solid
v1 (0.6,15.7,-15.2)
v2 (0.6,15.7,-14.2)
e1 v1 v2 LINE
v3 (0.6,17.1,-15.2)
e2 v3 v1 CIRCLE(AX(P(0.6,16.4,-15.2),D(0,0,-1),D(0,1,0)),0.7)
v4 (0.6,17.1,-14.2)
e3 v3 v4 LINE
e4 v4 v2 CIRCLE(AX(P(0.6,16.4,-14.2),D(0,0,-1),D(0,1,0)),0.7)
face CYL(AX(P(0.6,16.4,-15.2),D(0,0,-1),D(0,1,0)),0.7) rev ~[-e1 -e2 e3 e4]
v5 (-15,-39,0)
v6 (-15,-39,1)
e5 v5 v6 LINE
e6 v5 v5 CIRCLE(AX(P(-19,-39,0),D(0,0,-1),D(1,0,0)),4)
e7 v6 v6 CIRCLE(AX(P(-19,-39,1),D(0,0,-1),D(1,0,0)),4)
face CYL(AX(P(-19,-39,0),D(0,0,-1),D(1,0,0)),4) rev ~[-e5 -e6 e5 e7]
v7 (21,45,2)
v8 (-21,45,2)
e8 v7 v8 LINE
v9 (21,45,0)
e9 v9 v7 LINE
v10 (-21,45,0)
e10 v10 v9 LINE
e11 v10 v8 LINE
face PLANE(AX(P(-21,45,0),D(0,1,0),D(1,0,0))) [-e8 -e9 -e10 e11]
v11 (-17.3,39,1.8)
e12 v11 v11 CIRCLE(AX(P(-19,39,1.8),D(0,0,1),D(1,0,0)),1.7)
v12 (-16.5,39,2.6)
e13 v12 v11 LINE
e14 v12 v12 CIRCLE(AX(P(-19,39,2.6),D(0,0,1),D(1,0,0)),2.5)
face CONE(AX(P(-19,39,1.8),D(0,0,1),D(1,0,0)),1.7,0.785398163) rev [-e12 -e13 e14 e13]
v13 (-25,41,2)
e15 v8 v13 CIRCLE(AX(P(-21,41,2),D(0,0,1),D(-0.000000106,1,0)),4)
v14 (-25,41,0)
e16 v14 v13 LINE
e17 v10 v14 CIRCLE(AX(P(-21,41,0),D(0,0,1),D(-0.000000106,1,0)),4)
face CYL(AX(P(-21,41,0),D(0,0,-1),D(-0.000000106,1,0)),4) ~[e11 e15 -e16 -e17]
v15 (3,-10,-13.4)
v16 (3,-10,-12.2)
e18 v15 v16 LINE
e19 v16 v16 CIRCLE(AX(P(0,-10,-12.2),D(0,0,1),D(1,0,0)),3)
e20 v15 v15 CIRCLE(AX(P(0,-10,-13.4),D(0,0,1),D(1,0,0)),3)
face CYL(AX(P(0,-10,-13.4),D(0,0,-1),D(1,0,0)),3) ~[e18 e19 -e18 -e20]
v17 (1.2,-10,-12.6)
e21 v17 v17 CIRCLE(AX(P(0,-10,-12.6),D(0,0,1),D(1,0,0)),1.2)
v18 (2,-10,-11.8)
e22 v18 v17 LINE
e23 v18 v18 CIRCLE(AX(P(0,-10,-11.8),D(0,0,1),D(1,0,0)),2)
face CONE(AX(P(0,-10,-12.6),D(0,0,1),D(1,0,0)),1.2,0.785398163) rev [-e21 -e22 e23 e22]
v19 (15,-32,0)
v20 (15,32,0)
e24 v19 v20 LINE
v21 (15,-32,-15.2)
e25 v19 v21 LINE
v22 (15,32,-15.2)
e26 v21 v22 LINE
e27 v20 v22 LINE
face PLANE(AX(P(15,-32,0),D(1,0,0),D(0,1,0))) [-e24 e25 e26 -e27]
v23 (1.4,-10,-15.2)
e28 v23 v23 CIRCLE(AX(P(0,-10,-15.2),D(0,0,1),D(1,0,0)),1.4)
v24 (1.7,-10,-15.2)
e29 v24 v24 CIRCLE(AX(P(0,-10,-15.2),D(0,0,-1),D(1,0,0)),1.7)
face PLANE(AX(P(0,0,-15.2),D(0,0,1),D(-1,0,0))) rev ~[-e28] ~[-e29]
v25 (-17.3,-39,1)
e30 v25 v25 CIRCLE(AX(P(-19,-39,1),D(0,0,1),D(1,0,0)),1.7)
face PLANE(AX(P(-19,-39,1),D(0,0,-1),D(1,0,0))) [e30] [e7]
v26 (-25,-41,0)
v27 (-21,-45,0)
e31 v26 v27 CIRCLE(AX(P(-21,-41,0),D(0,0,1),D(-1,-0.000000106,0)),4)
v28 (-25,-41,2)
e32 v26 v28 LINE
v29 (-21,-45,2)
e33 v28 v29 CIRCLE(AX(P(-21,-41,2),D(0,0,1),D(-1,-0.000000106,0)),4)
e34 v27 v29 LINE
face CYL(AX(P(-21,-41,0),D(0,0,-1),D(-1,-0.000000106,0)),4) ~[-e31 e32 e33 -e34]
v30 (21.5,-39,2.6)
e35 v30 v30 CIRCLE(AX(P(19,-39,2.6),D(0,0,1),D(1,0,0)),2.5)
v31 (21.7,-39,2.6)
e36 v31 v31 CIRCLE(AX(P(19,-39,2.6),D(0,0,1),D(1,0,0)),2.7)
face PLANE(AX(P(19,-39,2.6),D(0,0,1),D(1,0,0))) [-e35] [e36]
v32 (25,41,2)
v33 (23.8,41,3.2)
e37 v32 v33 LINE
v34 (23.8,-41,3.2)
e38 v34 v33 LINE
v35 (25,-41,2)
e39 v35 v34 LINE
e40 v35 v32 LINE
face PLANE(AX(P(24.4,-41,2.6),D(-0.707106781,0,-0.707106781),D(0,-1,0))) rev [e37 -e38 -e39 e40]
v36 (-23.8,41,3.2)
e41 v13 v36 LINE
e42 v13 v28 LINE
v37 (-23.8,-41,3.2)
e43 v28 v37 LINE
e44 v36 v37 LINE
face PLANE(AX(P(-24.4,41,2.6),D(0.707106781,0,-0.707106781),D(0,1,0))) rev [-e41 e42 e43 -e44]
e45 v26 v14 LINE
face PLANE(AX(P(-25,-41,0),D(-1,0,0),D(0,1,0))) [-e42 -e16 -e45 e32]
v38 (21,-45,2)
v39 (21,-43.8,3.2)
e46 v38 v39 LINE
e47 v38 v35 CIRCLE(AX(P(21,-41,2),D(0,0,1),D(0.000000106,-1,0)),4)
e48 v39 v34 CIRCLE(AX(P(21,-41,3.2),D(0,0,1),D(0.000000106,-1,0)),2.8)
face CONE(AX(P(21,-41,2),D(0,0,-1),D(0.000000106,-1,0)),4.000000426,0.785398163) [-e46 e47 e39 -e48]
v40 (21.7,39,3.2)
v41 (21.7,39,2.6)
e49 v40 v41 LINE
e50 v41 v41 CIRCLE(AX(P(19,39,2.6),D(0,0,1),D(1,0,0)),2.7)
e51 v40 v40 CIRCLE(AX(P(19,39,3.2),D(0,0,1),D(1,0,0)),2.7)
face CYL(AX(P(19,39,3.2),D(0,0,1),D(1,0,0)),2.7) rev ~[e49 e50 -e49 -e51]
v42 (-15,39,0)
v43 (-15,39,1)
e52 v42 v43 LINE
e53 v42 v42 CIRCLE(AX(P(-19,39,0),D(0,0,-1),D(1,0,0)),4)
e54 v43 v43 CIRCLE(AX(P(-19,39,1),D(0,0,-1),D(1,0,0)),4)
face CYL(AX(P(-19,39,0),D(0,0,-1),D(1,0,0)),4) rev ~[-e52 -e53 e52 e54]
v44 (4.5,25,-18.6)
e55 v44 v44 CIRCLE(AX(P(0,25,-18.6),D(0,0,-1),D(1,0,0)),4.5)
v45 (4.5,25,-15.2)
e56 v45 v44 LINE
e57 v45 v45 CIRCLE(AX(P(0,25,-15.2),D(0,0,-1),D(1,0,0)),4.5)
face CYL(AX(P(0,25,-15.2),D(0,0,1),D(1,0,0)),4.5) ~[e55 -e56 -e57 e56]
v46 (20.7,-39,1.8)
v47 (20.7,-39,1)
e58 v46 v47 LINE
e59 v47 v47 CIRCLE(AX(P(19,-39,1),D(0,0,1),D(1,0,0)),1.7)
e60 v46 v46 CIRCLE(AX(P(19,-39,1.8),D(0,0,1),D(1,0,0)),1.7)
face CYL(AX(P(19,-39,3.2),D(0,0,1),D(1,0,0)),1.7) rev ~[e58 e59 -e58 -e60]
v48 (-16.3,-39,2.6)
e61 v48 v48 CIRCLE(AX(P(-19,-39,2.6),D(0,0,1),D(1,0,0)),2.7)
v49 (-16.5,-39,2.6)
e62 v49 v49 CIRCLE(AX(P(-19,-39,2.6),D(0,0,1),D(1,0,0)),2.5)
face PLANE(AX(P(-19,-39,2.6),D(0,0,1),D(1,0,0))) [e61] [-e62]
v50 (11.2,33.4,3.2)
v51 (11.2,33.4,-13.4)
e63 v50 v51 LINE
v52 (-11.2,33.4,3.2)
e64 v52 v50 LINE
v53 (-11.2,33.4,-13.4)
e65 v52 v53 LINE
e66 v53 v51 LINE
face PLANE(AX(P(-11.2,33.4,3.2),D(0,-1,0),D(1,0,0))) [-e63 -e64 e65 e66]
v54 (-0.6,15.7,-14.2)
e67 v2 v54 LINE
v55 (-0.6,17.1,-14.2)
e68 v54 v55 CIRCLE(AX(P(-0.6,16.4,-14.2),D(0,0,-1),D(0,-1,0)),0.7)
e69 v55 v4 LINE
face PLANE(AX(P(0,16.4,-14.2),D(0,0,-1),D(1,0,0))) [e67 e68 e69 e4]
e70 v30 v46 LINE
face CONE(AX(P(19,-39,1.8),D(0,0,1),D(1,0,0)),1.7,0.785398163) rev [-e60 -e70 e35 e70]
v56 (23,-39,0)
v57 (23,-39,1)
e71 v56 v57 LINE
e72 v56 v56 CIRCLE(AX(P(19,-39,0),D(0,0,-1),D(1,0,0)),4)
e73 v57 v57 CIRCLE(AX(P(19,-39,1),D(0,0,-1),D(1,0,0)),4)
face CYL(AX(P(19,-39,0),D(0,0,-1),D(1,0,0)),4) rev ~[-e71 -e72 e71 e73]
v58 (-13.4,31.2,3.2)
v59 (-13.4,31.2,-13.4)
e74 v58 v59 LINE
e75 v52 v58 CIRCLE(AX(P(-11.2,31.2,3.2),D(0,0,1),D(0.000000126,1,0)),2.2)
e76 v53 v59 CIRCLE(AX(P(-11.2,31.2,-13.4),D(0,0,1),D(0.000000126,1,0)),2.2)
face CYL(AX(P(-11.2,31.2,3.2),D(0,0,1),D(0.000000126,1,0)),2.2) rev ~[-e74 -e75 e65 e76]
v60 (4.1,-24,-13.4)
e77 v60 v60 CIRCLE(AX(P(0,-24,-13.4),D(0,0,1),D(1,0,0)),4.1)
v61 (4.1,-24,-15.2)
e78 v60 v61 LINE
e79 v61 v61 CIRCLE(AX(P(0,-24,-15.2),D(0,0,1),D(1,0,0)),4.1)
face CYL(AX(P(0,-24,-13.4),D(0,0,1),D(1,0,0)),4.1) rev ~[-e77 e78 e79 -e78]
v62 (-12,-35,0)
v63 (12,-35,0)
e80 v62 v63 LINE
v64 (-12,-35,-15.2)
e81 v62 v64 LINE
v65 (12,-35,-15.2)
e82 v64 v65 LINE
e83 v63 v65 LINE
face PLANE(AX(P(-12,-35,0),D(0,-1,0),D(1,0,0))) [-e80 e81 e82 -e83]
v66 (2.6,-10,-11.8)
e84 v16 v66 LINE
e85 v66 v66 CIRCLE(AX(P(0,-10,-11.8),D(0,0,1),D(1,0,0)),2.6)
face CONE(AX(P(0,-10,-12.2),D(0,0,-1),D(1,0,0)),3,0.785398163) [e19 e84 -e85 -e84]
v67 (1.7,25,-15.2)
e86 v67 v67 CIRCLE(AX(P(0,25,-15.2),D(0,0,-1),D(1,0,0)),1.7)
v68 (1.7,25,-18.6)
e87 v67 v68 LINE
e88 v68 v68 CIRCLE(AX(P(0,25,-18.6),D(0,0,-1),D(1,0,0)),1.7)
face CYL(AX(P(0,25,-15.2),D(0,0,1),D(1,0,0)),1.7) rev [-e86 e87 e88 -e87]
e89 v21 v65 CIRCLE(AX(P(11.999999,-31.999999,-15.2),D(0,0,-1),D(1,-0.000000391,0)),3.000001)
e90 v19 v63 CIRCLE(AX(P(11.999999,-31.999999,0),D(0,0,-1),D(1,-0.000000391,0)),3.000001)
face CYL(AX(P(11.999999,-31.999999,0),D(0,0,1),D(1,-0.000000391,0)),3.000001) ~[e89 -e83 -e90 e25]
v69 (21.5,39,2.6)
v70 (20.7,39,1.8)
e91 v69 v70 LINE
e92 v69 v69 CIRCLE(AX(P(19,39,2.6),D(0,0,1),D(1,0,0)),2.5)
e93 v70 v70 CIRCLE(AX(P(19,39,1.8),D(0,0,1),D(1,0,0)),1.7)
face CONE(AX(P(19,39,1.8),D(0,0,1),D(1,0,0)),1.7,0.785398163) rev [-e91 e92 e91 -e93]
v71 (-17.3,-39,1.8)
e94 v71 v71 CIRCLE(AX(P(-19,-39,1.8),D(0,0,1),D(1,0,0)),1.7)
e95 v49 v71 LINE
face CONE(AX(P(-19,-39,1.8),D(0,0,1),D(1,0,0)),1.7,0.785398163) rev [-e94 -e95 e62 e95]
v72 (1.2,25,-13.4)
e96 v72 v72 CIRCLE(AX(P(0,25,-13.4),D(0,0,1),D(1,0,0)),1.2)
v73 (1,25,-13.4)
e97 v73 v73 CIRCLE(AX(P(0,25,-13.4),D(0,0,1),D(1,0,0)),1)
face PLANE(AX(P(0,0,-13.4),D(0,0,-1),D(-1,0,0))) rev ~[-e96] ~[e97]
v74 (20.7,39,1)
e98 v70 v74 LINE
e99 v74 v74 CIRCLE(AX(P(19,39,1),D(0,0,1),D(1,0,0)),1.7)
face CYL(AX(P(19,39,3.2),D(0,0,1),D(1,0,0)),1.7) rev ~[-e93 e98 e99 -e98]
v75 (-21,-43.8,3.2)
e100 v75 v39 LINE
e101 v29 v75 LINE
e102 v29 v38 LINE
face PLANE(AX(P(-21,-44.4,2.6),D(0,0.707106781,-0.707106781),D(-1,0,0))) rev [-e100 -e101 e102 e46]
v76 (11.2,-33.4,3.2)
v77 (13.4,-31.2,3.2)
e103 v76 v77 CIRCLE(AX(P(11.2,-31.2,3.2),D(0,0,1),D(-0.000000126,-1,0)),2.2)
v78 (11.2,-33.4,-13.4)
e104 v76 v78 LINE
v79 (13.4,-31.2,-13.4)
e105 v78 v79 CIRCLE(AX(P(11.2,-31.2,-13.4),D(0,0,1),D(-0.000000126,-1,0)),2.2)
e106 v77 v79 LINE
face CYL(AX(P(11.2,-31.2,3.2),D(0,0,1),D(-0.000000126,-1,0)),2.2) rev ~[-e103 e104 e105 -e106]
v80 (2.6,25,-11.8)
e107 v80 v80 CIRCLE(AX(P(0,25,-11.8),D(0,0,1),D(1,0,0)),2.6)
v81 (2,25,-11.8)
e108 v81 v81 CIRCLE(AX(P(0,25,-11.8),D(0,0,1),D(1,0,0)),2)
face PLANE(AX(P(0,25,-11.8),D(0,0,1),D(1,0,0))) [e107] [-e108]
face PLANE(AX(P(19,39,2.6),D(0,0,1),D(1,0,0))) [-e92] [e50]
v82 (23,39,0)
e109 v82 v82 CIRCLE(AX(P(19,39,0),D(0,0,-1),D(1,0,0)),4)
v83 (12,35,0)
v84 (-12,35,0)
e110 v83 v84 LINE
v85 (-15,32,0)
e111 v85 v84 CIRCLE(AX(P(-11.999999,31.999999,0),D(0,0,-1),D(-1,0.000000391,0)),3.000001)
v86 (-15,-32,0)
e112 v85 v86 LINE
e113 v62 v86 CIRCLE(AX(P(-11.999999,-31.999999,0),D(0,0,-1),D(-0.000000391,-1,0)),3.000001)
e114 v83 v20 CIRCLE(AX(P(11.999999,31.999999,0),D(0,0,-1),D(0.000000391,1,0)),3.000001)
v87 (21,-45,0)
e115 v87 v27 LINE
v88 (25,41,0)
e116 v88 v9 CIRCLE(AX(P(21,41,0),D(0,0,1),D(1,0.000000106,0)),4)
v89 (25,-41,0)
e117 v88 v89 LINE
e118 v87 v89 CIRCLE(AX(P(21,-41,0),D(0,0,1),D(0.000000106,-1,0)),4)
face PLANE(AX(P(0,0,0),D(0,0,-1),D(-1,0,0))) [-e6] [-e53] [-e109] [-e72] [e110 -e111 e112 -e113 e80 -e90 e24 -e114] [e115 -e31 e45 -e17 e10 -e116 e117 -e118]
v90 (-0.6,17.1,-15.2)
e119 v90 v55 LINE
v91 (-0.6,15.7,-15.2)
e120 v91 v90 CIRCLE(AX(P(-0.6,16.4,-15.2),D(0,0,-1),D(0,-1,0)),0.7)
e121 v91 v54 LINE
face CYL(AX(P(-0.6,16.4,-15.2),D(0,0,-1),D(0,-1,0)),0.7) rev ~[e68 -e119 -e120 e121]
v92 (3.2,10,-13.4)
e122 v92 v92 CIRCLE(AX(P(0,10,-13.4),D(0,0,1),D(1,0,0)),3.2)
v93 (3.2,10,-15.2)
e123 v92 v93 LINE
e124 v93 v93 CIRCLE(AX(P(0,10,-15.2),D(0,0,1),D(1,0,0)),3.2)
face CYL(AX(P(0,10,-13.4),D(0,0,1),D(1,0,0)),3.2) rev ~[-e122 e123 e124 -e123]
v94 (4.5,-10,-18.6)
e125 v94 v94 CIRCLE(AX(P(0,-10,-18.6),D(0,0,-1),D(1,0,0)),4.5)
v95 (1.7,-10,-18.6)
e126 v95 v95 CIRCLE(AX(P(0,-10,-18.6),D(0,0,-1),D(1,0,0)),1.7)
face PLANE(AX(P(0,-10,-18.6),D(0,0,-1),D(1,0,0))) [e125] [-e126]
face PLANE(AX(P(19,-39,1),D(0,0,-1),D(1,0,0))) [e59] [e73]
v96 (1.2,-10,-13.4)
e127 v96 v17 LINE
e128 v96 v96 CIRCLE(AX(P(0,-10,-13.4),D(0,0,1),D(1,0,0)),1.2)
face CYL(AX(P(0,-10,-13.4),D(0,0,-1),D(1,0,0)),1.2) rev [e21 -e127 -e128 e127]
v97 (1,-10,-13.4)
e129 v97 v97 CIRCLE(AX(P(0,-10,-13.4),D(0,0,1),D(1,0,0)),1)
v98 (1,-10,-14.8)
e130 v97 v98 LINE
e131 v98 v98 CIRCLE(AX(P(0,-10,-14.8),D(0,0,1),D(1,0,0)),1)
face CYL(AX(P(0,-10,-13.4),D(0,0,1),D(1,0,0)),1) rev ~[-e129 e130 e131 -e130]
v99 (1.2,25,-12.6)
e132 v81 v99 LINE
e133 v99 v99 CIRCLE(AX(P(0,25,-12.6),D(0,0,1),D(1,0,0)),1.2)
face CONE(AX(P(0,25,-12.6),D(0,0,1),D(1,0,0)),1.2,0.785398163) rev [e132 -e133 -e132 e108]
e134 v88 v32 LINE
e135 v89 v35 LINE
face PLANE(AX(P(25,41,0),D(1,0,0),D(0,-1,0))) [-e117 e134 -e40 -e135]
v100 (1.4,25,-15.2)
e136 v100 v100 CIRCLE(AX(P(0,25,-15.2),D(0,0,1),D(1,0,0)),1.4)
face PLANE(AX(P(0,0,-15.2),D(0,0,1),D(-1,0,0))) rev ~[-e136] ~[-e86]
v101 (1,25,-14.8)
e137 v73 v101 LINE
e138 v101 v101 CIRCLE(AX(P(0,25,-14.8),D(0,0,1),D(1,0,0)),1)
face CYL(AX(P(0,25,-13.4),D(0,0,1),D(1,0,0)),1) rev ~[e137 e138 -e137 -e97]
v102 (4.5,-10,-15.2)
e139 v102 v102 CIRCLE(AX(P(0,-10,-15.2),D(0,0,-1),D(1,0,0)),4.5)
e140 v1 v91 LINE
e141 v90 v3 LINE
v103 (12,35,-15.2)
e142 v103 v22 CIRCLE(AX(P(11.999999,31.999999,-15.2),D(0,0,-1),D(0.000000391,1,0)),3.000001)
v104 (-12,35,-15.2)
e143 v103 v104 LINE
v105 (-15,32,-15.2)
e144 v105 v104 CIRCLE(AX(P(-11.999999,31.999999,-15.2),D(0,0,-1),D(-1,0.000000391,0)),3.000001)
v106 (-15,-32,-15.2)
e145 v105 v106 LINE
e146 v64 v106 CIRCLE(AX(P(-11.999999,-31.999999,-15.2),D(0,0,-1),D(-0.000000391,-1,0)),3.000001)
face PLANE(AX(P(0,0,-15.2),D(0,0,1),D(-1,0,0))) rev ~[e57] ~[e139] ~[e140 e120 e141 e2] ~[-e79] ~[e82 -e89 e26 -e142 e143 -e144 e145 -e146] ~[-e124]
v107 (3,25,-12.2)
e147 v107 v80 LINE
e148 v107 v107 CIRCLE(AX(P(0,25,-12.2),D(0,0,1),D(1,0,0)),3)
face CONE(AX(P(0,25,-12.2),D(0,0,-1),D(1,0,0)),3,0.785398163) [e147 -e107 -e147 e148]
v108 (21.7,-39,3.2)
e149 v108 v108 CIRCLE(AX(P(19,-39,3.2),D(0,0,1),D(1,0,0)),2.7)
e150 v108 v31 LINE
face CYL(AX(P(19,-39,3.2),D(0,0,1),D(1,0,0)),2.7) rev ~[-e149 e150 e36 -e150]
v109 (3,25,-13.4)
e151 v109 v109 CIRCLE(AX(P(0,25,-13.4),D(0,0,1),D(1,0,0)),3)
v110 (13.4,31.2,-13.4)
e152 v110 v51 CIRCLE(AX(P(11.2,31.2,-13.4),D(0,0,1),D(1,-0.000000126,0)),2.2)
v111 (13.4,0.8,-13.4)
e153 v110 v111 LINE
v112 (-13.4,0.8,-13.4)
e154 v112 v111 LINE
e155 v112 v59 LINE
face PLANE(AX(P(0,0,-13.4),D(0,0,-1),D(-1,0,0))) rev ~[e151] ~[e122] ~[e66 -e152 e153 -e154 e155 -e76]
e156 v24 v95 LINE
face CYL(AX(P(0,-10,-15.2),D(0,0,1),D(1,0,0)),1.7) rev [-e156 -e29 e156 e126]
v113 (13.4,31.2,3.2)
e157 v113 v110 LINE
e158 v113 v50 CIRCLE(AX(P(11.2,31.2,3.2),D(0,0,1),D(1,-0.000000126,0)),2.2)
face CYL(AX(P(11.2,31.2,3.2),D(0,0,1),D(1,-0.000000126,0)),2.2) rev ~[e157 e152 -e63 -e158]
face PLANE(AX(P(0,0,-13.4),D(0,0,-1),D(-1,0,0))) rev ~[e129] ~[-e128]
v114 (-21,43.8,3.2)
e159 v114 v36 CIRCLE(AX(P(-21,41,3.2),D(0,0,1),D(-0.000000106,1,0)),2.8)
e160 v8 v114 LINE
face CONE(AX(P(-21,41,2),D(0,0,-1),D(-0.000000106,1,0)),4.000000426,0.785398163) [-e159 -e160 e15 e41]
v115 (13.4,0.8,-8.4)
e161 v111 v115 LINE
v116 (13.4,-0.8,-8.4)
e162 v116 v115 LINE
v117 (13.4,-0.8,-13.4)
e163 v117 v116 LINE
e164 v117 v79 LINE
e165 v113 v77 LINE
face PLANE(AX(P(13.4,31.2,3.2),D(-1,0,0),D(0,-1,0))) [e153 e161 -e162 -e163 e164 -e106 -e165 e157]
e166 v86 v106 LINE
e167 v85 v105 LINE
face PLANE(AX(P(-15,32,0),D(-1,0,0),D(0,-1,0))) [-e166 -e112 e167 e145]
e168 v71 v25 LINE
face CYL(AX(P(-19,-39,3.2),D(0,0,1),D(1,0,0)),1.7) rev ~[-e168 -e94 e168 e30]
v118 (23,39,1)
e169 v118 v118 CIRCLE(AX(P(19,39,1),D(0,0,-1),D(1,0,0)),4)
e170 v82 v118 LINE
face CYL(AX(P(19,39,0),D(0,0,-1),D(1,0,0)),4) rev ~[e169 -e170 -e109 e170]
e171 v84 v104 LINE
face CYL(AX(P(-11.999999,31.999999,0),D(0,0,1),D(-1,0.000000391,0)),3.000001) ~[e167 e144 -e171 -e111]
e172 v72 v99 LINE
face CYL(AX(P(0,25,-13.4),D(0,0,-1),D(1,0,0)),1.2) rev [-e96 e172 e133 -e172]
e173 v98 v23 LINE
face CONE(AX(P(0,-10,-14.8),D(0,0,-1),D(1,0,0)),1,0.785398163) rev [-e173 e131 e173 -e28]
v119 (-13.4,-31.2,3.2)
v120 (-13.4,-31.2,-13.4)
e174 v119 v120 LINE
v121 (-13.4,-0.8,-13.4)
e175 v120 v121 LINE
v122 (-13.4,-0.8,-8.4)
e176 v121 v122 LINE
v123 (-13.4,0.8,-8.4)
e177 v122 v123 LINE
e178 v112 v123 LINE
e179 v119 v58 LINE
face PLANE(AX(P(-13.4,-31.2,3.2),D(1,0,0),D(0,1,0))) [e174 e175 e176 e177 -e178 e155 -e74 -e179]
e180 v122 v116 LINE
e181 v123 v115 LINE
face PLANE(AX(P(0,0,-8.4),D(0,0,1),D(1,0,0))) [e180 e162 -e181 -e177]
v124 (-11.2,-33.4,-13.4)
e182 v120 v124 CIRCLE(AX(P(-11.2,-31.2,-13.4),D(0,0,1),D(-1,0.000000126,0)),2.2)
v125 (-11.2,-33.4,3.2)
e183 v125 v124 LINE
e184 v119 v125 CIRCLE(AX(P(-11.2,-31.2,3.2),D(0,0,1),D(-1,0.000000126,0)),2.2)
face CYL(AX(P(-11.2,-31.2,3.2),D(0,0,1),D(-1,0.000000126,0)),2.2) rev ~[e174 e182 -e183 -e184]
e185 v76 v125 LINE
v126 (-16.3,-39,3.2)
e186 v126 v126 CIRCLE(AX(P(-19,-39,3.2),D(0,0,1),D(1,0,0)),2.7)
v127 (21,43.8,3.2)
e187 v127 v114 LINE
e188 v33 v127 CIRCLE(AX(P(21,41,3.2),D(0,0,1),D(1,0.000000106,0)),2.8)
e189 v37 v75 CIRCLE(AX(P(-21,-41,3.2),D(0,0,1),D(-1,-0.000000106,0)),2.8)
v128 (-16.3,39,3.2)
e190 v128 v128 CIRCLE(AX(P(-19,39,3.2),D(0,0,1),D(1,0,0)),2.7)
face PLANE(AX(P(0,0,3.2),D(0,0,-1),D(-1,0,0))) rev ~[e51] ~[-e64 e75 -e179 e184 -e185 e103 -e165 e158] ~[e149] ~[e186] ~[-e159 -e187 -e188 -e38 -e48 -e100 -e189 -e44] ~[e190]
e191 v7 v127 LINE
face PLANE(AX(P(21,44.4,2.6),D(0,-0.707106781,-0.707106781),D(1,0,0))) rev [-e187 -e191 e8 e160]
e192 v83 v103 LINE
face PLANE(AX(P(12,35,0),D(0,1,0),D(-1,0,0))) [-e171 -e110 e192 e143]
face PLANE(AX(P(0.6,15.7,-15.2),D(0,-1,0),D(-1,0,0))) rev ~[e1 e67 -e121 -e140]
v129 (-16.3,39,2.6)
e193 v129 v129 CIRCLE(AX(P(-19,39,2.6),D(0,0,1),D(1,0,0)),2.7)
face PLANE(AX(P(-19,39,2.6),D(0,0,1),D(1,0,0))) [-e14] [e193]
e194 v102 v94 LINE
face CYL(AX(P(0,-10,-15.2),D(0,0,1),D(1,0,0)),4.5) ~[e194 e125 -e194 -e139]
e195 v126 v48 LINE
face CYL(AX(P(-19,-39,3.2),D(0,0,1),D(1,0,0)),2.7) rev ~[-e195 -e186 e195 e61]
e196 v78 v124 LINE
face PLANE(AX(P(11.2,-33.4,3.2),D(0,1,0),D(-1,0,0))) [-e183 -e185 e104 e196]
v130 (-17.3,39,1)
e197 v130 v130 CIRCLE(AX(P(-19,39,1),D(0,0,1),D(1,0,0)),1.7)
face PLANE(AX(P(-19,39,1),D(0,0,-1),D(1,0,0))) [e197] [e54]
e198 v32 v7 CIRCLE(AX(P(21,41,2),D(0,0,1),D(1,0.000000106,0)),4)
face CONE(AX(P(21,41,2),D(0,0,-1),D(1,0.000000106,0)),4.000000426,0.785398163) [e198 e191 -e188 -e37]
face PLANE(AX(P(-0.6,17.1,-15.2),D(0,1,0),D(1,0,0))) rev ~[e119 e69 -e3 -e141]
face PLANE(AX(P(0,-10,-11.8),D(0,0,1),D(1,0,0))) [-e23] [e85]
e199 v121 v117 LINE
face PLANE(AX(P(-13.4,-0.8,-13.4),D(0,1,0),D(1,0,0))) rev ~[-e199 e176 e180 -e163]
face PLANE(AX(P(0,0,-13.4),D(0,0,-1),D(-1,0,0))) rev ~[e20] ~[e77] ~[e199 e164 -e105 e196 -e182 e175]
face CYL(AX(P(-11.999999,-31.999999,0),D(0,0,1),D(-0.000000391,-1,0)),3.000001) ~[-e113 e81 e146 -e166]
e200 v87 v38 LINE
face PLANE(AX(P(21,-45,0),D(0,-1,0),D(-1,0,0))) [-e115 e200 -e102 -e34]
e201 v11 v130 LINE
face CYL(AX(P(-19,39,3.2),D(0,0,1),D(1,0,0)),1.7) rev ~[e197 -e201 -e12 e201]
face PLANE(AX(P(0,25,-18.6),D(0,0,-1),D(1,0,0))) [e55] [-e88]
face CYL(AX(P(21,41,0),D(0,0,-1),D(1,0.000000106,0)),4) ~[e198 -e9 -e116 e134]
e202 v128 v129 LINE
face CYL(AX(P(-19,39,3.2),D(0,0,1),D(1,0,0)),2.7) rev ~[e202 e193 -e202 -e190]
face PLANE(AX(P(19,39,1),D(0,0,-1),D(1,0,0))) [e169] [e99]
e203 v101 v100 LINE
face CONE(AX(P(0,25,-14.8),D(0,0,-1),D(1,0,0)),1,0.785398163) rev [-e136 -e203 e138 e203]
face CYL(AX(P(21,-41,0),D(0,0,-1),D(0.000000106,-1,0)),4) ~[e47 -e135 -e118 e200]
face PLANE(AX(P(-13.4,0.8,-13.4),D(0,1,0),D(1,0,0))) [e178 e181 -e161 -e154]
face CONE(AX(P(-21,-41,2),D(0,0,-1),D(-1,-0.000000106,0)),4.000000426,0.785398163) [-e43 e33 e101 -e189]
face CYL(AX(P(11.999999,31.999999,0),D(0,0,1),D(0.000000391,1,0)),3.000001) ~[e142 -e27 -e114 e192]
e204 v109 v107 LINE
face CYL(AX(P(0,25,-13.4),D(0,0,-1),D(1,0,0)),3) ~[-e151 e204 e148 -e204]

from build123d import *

# Parameters (mm, degrees)
PAD_DEPTH       = 3.2
PAD001_DEPTH    = 15.2
POCKET_DEPTH    = 16.6
SKETCH003_R     = 4.1
SKETCH003_R_2   = 1
SKETCH003_R_3   = 3.2
POCKET001_DEPTH = 1.8
SKETCH004_W     = 26.8
SKETCH004_H     = 1.6
PAD002_DEPTH    = 5
CHAMFER_SIZE    = 1.2
POCKET002_DEPTH = 1
SKETCH006_R     = 4.5
SKETCH006_R_2   = 1.7
PAD003_DEPTH    = 3.4
CHAMFER001_SIZE = 0.4
SKETCH007_R     = 1.7
POCKET003_DEPTH = 21.801
SKETCH008_R     = 2.7
POCKET004_DEPTH = 0.6
CHAMFER002_SIZE = 0.8
SKETCH009_R     = 4
POCKET005_DEPTH = 1
SKETCH010_R     = 3
SKETCH010_R_2   = 1.2
PAD004_DEPTH    = 1.6
CHAMFER003_SIZE = 0.4
CHAMFER004_SIZE = 0.8


with BuildPart() as part:
    # Sketch → Pad (new body)
    with BuildSketch(Plane.XY):
        with BuildLine():
            Line((-21, 45), (21, 45))
            ThreePointArc((25, 41), (23.828427, 43.828427), (21, 45))
            Line((25, 41), (25, -41))
            ThreePointArc((21, -45), (23.828427, -43.828427), (25, -41))
            Line((21, -45), (-21, -45))
            ThreePointArc((-25, -41), (-23.828427, -43.828427), (-21, -45))
            Line((-25, -41), (-25, 41))
            ThreePointArc((-21, 45), (-23.828427, 43.828427), (-25, 41))
        make_face()
    extrude(amount=PAD_DEPTH)

    # Sketch001 (on Face9 of Pad) → Pad001 (join)
    with BuildSketch(Plane(origin=(0, 0, 0), x_dir=(1, 0, 0), z_dir=(0, 0, -1))):
        with BuildLine():
            Line((-12, 35), (12, 35))
            ThreePointArc((15, 32), (14.12132, 34.12132), (12, 35))
            Line((15, 32), (15, -32))
            ThreePointArc((12, -35), (14.12132, -34.12132), (15, -32))
            Line((12, -35), (-12, -35))
            ThreePointArc((-15, -32), (-14.12132, -34.12132), (-12, -35))
            Line((-15, -32), (-15, 32))
            ThreePointArc((-12, 35), (-14.12132, 34.12132), (-15, 32))
        make_face()
    extrude(amount=PAD001_DEPTH)

    # Sketch002 (on Face5 of Pad001) → Pocket (cut)
    with BuildSketch(Plane.XY.offset(3.2)):
        with BuildLine():
            Line((-11.2, 33.4), (11.2, 33.4))
            ThreePointArc((13.4, 31.2), (12.755635, 32.755635), (11.2, 33.4))
            Line((13.4, 31.2), (13.4, -31.2))
            ThreePointArc((11.2, -33.4), (12.755635, -32.755635), (13.4, -31.2))
            Line((11.2, -33.4), (-11.2, -33.4))
            ThreePointArc((-13.4, -31.2), (-12.755635, -32.755635), (-11.2, -33.4))
            Line((-13.4, -31.2), (-13.4, 31.2))
            ThreePointArc((-11.2, 33.4), (-12.755635, 32.755635), (-13.4, 31.2))
        make_face()
    extrude(amount=-POCKET_DEPTH, mode=Mode.SUBTRACT)

    # Sketch003 (on Face28 of Pocket) → Pocket001 (cut)
    with BuildSketch(Plane.XY.offset(-13.4)):
        with Locations((0, -24)):
            Circle(SKETCH003_R)
        with Locations((0, -10)):
            Circle(SKETCH003_R_2)
        with Locations((0, 10)):
            Circle(SKETCH003_R_3)
        with Locations((0, 25)):
            Circle(SKETCH003_R_2)
    extrude(amount=-POCKET001_DEPTH, mode=Mode.SUBTRACT)

    # Sketch004 (on Face28 of Pocket001) → Pad002 (join)
    with BuildSketch(Plane.XY.offset(-13.4)):
        Rectangle(SKETCH004_W, SKETCH004_H)
    extrude(amount=PAD002_DEPTH)

    # Chamfer
    chamfer_edges = [part.edges().sort_by_distance(p)[0] for p in [
        (-23.828427, 43.828427, 3.2),
        (-25, 0, 3.2),
        (0, 45, 3.2),
        (23.828427, 43.828427, 3.2),
        (25, 0, 3.2),
        (-23.828427, -43.828427, 3.2),
        (0, -45, 3.2),
        (23.828427, -43.828427, 3.2),
    ]]
    chamfer(chamfer_edges, length=CHAMFER_SIZE)

    # Sketch005 (on Face35 of Chamfer) → Pocket002 (cut)
    with BuildSketch(Plane(origin=(0, 0, -15.2), x_dir=(1, 0, 0), z_dir=(0, 0, -1))):
        with BuildLine():
            ThreePointArc((0.6, -17.1), (1.3, -16.4), (0.6, -15.7))
            Line((0.6, -15.7), (-0.6, -15.7))
            ThreePointArc((-0.6, -15.7), (-1.3, -16.4), (-0.6, -17.1))
            Line((-0.6, -17.1), (0.6, -17.1))
        make_face()
    extrude(amount=-POCKET002_DEPTH, mode=Mode.SUBTRACT)

    # Sketch006 (on Face35 of Pocket002) → Pad003 (join)
    with BuildSketch(Plane(origin=(0, 0, -15.2), x_dir=(1, 0, 0), z_dir=(0, 0, -1))):
        with Locations((0, 10)):
            Circle(SKETCH006_R)
        with Locations((0, 10)):
            Circle(SKETCH006_R_2, mode=Mode.SUBTRACT)
        with Locations((0, -25)):
            Circle(SKETCH006_R)
        with Locations((0, -25)):
            Circle(SKETCH006_R_2, mode=Mode.SUBTRACT)
    extrude(amount=PAD003_DEPTH)

    # Chamfer001
    chamfer001_edges = [part.edges().sort_by_distance(p)[0] for p in [
        (-1, 25, -15.2),
        (-1, -10, -15.2),
    ]]
    chamfer(chamfer001_edges, length=CHAMFER001_SIZE)

    # Sketch007 (on Face13 of Chamfer001) → Pocket003 (cut, through all)
    with BuildSketch(Plane.XY.offset(3.2)):
        with Locations((-19, 39)):
            Circle(SKETCH007_R)
        with Locations((19, 39)):
            Circle(SKETCH007_R)
        with Locations((-19, -39)):
            Circle(SKETCH007_R)
        with Locations((19, -39)):
            Circle(SKETCH007_R)
    extrude(amount=-POCKET003_DEPTH, mode=Mode.SUBTRACT)

    # Sketch008 (on Face13 of Pocket003) → Pocket004 (cut)
    with BuildSketch(Plane.XY.offset(3.2)):
        with Locations((-19, 39)):
            Circle(SKETCH008_R)
        with Locations((19, 39)):
            Circle(SKETCH008_R)
        with Locations((-19, -39)):
            Circle(SKETCH008_R)
        with Locations((19, -39)):
            Circle(SKETCH008_R)
    extrude(amount=-POCKET004_DEPTH, mode=Mode.SUBTRACT)

    # Chamfer002
    chamfer002_edges = [part.edges().sort_by_distance(p)[0] for p in [
        (-20.7, 39, 2.6),
        (17.3, 39, 2.6),
        (17.3, -39, 2.6),
        (-20.7, -39, 2.6),
    ]]
    chamfer(chamfer002_edges, length=CHAMFER002_SIZE)

    # Sketch009 (on Face6 of Chamfer002) → Pocket005 (cut)
    with BuildSketch(Plane(origin=(0, 0, 0), x_dir=(1, 0, 0), z_dir=(0, 0, -1))):
        with Locations((-19, 39)):
            Circle(SKETCH009_R)
        with Locations((19, 39)):
            Circle(SKETCH009_R)
        with Locations((-19, -39)):
            Circle(SKETCH009_R)
        with Locations((19, -39)):
            Circle(SKETCH009_R)
    extrude(amount=-POCKET005_DEPTH, mode=Mode.SUBTRACT)

    # Sketch010 (on Face38 of Pocket005) → Pad004 (join)
    with BuildSketch(Plane.XY.offset(-13.4)):
        with Locations((0, 25)):
            Circle(SKETCH010_R)
        with Locations((0, 25)):
            Circle(SKETCH010_R_2, mode=Mode.SUBTRACT)
        with Locations((0, -10)):
            Circle(SKETCH010_R)
        with Locations((0, -10)):
            Circle(SKETCH010_R_2, mode=Mode.SUBTRACT)
    extrude(amount=PAD004_DEPTH)

    # Chamfer003
    chamfer003_edges = [part.edges().sort_by_distance(p)[0] for p in [
        (-3, 25, -11.8),
        (-3, -10, -11.8),
    ]]
    chamfer(chamfer003_edges, length=CHAMFER003_SIZE)

    # Chamfer004
    chamfer004_edges = [part.edges().sort_by_distance(p)[0] for p in [
        (-1.2, 25, -11.8),
        (-1.2, -10, -11.8),
    ]]
    chamfer(chamfer004_edges, length=CHAMFER004_SIZE)


solid = part.part
